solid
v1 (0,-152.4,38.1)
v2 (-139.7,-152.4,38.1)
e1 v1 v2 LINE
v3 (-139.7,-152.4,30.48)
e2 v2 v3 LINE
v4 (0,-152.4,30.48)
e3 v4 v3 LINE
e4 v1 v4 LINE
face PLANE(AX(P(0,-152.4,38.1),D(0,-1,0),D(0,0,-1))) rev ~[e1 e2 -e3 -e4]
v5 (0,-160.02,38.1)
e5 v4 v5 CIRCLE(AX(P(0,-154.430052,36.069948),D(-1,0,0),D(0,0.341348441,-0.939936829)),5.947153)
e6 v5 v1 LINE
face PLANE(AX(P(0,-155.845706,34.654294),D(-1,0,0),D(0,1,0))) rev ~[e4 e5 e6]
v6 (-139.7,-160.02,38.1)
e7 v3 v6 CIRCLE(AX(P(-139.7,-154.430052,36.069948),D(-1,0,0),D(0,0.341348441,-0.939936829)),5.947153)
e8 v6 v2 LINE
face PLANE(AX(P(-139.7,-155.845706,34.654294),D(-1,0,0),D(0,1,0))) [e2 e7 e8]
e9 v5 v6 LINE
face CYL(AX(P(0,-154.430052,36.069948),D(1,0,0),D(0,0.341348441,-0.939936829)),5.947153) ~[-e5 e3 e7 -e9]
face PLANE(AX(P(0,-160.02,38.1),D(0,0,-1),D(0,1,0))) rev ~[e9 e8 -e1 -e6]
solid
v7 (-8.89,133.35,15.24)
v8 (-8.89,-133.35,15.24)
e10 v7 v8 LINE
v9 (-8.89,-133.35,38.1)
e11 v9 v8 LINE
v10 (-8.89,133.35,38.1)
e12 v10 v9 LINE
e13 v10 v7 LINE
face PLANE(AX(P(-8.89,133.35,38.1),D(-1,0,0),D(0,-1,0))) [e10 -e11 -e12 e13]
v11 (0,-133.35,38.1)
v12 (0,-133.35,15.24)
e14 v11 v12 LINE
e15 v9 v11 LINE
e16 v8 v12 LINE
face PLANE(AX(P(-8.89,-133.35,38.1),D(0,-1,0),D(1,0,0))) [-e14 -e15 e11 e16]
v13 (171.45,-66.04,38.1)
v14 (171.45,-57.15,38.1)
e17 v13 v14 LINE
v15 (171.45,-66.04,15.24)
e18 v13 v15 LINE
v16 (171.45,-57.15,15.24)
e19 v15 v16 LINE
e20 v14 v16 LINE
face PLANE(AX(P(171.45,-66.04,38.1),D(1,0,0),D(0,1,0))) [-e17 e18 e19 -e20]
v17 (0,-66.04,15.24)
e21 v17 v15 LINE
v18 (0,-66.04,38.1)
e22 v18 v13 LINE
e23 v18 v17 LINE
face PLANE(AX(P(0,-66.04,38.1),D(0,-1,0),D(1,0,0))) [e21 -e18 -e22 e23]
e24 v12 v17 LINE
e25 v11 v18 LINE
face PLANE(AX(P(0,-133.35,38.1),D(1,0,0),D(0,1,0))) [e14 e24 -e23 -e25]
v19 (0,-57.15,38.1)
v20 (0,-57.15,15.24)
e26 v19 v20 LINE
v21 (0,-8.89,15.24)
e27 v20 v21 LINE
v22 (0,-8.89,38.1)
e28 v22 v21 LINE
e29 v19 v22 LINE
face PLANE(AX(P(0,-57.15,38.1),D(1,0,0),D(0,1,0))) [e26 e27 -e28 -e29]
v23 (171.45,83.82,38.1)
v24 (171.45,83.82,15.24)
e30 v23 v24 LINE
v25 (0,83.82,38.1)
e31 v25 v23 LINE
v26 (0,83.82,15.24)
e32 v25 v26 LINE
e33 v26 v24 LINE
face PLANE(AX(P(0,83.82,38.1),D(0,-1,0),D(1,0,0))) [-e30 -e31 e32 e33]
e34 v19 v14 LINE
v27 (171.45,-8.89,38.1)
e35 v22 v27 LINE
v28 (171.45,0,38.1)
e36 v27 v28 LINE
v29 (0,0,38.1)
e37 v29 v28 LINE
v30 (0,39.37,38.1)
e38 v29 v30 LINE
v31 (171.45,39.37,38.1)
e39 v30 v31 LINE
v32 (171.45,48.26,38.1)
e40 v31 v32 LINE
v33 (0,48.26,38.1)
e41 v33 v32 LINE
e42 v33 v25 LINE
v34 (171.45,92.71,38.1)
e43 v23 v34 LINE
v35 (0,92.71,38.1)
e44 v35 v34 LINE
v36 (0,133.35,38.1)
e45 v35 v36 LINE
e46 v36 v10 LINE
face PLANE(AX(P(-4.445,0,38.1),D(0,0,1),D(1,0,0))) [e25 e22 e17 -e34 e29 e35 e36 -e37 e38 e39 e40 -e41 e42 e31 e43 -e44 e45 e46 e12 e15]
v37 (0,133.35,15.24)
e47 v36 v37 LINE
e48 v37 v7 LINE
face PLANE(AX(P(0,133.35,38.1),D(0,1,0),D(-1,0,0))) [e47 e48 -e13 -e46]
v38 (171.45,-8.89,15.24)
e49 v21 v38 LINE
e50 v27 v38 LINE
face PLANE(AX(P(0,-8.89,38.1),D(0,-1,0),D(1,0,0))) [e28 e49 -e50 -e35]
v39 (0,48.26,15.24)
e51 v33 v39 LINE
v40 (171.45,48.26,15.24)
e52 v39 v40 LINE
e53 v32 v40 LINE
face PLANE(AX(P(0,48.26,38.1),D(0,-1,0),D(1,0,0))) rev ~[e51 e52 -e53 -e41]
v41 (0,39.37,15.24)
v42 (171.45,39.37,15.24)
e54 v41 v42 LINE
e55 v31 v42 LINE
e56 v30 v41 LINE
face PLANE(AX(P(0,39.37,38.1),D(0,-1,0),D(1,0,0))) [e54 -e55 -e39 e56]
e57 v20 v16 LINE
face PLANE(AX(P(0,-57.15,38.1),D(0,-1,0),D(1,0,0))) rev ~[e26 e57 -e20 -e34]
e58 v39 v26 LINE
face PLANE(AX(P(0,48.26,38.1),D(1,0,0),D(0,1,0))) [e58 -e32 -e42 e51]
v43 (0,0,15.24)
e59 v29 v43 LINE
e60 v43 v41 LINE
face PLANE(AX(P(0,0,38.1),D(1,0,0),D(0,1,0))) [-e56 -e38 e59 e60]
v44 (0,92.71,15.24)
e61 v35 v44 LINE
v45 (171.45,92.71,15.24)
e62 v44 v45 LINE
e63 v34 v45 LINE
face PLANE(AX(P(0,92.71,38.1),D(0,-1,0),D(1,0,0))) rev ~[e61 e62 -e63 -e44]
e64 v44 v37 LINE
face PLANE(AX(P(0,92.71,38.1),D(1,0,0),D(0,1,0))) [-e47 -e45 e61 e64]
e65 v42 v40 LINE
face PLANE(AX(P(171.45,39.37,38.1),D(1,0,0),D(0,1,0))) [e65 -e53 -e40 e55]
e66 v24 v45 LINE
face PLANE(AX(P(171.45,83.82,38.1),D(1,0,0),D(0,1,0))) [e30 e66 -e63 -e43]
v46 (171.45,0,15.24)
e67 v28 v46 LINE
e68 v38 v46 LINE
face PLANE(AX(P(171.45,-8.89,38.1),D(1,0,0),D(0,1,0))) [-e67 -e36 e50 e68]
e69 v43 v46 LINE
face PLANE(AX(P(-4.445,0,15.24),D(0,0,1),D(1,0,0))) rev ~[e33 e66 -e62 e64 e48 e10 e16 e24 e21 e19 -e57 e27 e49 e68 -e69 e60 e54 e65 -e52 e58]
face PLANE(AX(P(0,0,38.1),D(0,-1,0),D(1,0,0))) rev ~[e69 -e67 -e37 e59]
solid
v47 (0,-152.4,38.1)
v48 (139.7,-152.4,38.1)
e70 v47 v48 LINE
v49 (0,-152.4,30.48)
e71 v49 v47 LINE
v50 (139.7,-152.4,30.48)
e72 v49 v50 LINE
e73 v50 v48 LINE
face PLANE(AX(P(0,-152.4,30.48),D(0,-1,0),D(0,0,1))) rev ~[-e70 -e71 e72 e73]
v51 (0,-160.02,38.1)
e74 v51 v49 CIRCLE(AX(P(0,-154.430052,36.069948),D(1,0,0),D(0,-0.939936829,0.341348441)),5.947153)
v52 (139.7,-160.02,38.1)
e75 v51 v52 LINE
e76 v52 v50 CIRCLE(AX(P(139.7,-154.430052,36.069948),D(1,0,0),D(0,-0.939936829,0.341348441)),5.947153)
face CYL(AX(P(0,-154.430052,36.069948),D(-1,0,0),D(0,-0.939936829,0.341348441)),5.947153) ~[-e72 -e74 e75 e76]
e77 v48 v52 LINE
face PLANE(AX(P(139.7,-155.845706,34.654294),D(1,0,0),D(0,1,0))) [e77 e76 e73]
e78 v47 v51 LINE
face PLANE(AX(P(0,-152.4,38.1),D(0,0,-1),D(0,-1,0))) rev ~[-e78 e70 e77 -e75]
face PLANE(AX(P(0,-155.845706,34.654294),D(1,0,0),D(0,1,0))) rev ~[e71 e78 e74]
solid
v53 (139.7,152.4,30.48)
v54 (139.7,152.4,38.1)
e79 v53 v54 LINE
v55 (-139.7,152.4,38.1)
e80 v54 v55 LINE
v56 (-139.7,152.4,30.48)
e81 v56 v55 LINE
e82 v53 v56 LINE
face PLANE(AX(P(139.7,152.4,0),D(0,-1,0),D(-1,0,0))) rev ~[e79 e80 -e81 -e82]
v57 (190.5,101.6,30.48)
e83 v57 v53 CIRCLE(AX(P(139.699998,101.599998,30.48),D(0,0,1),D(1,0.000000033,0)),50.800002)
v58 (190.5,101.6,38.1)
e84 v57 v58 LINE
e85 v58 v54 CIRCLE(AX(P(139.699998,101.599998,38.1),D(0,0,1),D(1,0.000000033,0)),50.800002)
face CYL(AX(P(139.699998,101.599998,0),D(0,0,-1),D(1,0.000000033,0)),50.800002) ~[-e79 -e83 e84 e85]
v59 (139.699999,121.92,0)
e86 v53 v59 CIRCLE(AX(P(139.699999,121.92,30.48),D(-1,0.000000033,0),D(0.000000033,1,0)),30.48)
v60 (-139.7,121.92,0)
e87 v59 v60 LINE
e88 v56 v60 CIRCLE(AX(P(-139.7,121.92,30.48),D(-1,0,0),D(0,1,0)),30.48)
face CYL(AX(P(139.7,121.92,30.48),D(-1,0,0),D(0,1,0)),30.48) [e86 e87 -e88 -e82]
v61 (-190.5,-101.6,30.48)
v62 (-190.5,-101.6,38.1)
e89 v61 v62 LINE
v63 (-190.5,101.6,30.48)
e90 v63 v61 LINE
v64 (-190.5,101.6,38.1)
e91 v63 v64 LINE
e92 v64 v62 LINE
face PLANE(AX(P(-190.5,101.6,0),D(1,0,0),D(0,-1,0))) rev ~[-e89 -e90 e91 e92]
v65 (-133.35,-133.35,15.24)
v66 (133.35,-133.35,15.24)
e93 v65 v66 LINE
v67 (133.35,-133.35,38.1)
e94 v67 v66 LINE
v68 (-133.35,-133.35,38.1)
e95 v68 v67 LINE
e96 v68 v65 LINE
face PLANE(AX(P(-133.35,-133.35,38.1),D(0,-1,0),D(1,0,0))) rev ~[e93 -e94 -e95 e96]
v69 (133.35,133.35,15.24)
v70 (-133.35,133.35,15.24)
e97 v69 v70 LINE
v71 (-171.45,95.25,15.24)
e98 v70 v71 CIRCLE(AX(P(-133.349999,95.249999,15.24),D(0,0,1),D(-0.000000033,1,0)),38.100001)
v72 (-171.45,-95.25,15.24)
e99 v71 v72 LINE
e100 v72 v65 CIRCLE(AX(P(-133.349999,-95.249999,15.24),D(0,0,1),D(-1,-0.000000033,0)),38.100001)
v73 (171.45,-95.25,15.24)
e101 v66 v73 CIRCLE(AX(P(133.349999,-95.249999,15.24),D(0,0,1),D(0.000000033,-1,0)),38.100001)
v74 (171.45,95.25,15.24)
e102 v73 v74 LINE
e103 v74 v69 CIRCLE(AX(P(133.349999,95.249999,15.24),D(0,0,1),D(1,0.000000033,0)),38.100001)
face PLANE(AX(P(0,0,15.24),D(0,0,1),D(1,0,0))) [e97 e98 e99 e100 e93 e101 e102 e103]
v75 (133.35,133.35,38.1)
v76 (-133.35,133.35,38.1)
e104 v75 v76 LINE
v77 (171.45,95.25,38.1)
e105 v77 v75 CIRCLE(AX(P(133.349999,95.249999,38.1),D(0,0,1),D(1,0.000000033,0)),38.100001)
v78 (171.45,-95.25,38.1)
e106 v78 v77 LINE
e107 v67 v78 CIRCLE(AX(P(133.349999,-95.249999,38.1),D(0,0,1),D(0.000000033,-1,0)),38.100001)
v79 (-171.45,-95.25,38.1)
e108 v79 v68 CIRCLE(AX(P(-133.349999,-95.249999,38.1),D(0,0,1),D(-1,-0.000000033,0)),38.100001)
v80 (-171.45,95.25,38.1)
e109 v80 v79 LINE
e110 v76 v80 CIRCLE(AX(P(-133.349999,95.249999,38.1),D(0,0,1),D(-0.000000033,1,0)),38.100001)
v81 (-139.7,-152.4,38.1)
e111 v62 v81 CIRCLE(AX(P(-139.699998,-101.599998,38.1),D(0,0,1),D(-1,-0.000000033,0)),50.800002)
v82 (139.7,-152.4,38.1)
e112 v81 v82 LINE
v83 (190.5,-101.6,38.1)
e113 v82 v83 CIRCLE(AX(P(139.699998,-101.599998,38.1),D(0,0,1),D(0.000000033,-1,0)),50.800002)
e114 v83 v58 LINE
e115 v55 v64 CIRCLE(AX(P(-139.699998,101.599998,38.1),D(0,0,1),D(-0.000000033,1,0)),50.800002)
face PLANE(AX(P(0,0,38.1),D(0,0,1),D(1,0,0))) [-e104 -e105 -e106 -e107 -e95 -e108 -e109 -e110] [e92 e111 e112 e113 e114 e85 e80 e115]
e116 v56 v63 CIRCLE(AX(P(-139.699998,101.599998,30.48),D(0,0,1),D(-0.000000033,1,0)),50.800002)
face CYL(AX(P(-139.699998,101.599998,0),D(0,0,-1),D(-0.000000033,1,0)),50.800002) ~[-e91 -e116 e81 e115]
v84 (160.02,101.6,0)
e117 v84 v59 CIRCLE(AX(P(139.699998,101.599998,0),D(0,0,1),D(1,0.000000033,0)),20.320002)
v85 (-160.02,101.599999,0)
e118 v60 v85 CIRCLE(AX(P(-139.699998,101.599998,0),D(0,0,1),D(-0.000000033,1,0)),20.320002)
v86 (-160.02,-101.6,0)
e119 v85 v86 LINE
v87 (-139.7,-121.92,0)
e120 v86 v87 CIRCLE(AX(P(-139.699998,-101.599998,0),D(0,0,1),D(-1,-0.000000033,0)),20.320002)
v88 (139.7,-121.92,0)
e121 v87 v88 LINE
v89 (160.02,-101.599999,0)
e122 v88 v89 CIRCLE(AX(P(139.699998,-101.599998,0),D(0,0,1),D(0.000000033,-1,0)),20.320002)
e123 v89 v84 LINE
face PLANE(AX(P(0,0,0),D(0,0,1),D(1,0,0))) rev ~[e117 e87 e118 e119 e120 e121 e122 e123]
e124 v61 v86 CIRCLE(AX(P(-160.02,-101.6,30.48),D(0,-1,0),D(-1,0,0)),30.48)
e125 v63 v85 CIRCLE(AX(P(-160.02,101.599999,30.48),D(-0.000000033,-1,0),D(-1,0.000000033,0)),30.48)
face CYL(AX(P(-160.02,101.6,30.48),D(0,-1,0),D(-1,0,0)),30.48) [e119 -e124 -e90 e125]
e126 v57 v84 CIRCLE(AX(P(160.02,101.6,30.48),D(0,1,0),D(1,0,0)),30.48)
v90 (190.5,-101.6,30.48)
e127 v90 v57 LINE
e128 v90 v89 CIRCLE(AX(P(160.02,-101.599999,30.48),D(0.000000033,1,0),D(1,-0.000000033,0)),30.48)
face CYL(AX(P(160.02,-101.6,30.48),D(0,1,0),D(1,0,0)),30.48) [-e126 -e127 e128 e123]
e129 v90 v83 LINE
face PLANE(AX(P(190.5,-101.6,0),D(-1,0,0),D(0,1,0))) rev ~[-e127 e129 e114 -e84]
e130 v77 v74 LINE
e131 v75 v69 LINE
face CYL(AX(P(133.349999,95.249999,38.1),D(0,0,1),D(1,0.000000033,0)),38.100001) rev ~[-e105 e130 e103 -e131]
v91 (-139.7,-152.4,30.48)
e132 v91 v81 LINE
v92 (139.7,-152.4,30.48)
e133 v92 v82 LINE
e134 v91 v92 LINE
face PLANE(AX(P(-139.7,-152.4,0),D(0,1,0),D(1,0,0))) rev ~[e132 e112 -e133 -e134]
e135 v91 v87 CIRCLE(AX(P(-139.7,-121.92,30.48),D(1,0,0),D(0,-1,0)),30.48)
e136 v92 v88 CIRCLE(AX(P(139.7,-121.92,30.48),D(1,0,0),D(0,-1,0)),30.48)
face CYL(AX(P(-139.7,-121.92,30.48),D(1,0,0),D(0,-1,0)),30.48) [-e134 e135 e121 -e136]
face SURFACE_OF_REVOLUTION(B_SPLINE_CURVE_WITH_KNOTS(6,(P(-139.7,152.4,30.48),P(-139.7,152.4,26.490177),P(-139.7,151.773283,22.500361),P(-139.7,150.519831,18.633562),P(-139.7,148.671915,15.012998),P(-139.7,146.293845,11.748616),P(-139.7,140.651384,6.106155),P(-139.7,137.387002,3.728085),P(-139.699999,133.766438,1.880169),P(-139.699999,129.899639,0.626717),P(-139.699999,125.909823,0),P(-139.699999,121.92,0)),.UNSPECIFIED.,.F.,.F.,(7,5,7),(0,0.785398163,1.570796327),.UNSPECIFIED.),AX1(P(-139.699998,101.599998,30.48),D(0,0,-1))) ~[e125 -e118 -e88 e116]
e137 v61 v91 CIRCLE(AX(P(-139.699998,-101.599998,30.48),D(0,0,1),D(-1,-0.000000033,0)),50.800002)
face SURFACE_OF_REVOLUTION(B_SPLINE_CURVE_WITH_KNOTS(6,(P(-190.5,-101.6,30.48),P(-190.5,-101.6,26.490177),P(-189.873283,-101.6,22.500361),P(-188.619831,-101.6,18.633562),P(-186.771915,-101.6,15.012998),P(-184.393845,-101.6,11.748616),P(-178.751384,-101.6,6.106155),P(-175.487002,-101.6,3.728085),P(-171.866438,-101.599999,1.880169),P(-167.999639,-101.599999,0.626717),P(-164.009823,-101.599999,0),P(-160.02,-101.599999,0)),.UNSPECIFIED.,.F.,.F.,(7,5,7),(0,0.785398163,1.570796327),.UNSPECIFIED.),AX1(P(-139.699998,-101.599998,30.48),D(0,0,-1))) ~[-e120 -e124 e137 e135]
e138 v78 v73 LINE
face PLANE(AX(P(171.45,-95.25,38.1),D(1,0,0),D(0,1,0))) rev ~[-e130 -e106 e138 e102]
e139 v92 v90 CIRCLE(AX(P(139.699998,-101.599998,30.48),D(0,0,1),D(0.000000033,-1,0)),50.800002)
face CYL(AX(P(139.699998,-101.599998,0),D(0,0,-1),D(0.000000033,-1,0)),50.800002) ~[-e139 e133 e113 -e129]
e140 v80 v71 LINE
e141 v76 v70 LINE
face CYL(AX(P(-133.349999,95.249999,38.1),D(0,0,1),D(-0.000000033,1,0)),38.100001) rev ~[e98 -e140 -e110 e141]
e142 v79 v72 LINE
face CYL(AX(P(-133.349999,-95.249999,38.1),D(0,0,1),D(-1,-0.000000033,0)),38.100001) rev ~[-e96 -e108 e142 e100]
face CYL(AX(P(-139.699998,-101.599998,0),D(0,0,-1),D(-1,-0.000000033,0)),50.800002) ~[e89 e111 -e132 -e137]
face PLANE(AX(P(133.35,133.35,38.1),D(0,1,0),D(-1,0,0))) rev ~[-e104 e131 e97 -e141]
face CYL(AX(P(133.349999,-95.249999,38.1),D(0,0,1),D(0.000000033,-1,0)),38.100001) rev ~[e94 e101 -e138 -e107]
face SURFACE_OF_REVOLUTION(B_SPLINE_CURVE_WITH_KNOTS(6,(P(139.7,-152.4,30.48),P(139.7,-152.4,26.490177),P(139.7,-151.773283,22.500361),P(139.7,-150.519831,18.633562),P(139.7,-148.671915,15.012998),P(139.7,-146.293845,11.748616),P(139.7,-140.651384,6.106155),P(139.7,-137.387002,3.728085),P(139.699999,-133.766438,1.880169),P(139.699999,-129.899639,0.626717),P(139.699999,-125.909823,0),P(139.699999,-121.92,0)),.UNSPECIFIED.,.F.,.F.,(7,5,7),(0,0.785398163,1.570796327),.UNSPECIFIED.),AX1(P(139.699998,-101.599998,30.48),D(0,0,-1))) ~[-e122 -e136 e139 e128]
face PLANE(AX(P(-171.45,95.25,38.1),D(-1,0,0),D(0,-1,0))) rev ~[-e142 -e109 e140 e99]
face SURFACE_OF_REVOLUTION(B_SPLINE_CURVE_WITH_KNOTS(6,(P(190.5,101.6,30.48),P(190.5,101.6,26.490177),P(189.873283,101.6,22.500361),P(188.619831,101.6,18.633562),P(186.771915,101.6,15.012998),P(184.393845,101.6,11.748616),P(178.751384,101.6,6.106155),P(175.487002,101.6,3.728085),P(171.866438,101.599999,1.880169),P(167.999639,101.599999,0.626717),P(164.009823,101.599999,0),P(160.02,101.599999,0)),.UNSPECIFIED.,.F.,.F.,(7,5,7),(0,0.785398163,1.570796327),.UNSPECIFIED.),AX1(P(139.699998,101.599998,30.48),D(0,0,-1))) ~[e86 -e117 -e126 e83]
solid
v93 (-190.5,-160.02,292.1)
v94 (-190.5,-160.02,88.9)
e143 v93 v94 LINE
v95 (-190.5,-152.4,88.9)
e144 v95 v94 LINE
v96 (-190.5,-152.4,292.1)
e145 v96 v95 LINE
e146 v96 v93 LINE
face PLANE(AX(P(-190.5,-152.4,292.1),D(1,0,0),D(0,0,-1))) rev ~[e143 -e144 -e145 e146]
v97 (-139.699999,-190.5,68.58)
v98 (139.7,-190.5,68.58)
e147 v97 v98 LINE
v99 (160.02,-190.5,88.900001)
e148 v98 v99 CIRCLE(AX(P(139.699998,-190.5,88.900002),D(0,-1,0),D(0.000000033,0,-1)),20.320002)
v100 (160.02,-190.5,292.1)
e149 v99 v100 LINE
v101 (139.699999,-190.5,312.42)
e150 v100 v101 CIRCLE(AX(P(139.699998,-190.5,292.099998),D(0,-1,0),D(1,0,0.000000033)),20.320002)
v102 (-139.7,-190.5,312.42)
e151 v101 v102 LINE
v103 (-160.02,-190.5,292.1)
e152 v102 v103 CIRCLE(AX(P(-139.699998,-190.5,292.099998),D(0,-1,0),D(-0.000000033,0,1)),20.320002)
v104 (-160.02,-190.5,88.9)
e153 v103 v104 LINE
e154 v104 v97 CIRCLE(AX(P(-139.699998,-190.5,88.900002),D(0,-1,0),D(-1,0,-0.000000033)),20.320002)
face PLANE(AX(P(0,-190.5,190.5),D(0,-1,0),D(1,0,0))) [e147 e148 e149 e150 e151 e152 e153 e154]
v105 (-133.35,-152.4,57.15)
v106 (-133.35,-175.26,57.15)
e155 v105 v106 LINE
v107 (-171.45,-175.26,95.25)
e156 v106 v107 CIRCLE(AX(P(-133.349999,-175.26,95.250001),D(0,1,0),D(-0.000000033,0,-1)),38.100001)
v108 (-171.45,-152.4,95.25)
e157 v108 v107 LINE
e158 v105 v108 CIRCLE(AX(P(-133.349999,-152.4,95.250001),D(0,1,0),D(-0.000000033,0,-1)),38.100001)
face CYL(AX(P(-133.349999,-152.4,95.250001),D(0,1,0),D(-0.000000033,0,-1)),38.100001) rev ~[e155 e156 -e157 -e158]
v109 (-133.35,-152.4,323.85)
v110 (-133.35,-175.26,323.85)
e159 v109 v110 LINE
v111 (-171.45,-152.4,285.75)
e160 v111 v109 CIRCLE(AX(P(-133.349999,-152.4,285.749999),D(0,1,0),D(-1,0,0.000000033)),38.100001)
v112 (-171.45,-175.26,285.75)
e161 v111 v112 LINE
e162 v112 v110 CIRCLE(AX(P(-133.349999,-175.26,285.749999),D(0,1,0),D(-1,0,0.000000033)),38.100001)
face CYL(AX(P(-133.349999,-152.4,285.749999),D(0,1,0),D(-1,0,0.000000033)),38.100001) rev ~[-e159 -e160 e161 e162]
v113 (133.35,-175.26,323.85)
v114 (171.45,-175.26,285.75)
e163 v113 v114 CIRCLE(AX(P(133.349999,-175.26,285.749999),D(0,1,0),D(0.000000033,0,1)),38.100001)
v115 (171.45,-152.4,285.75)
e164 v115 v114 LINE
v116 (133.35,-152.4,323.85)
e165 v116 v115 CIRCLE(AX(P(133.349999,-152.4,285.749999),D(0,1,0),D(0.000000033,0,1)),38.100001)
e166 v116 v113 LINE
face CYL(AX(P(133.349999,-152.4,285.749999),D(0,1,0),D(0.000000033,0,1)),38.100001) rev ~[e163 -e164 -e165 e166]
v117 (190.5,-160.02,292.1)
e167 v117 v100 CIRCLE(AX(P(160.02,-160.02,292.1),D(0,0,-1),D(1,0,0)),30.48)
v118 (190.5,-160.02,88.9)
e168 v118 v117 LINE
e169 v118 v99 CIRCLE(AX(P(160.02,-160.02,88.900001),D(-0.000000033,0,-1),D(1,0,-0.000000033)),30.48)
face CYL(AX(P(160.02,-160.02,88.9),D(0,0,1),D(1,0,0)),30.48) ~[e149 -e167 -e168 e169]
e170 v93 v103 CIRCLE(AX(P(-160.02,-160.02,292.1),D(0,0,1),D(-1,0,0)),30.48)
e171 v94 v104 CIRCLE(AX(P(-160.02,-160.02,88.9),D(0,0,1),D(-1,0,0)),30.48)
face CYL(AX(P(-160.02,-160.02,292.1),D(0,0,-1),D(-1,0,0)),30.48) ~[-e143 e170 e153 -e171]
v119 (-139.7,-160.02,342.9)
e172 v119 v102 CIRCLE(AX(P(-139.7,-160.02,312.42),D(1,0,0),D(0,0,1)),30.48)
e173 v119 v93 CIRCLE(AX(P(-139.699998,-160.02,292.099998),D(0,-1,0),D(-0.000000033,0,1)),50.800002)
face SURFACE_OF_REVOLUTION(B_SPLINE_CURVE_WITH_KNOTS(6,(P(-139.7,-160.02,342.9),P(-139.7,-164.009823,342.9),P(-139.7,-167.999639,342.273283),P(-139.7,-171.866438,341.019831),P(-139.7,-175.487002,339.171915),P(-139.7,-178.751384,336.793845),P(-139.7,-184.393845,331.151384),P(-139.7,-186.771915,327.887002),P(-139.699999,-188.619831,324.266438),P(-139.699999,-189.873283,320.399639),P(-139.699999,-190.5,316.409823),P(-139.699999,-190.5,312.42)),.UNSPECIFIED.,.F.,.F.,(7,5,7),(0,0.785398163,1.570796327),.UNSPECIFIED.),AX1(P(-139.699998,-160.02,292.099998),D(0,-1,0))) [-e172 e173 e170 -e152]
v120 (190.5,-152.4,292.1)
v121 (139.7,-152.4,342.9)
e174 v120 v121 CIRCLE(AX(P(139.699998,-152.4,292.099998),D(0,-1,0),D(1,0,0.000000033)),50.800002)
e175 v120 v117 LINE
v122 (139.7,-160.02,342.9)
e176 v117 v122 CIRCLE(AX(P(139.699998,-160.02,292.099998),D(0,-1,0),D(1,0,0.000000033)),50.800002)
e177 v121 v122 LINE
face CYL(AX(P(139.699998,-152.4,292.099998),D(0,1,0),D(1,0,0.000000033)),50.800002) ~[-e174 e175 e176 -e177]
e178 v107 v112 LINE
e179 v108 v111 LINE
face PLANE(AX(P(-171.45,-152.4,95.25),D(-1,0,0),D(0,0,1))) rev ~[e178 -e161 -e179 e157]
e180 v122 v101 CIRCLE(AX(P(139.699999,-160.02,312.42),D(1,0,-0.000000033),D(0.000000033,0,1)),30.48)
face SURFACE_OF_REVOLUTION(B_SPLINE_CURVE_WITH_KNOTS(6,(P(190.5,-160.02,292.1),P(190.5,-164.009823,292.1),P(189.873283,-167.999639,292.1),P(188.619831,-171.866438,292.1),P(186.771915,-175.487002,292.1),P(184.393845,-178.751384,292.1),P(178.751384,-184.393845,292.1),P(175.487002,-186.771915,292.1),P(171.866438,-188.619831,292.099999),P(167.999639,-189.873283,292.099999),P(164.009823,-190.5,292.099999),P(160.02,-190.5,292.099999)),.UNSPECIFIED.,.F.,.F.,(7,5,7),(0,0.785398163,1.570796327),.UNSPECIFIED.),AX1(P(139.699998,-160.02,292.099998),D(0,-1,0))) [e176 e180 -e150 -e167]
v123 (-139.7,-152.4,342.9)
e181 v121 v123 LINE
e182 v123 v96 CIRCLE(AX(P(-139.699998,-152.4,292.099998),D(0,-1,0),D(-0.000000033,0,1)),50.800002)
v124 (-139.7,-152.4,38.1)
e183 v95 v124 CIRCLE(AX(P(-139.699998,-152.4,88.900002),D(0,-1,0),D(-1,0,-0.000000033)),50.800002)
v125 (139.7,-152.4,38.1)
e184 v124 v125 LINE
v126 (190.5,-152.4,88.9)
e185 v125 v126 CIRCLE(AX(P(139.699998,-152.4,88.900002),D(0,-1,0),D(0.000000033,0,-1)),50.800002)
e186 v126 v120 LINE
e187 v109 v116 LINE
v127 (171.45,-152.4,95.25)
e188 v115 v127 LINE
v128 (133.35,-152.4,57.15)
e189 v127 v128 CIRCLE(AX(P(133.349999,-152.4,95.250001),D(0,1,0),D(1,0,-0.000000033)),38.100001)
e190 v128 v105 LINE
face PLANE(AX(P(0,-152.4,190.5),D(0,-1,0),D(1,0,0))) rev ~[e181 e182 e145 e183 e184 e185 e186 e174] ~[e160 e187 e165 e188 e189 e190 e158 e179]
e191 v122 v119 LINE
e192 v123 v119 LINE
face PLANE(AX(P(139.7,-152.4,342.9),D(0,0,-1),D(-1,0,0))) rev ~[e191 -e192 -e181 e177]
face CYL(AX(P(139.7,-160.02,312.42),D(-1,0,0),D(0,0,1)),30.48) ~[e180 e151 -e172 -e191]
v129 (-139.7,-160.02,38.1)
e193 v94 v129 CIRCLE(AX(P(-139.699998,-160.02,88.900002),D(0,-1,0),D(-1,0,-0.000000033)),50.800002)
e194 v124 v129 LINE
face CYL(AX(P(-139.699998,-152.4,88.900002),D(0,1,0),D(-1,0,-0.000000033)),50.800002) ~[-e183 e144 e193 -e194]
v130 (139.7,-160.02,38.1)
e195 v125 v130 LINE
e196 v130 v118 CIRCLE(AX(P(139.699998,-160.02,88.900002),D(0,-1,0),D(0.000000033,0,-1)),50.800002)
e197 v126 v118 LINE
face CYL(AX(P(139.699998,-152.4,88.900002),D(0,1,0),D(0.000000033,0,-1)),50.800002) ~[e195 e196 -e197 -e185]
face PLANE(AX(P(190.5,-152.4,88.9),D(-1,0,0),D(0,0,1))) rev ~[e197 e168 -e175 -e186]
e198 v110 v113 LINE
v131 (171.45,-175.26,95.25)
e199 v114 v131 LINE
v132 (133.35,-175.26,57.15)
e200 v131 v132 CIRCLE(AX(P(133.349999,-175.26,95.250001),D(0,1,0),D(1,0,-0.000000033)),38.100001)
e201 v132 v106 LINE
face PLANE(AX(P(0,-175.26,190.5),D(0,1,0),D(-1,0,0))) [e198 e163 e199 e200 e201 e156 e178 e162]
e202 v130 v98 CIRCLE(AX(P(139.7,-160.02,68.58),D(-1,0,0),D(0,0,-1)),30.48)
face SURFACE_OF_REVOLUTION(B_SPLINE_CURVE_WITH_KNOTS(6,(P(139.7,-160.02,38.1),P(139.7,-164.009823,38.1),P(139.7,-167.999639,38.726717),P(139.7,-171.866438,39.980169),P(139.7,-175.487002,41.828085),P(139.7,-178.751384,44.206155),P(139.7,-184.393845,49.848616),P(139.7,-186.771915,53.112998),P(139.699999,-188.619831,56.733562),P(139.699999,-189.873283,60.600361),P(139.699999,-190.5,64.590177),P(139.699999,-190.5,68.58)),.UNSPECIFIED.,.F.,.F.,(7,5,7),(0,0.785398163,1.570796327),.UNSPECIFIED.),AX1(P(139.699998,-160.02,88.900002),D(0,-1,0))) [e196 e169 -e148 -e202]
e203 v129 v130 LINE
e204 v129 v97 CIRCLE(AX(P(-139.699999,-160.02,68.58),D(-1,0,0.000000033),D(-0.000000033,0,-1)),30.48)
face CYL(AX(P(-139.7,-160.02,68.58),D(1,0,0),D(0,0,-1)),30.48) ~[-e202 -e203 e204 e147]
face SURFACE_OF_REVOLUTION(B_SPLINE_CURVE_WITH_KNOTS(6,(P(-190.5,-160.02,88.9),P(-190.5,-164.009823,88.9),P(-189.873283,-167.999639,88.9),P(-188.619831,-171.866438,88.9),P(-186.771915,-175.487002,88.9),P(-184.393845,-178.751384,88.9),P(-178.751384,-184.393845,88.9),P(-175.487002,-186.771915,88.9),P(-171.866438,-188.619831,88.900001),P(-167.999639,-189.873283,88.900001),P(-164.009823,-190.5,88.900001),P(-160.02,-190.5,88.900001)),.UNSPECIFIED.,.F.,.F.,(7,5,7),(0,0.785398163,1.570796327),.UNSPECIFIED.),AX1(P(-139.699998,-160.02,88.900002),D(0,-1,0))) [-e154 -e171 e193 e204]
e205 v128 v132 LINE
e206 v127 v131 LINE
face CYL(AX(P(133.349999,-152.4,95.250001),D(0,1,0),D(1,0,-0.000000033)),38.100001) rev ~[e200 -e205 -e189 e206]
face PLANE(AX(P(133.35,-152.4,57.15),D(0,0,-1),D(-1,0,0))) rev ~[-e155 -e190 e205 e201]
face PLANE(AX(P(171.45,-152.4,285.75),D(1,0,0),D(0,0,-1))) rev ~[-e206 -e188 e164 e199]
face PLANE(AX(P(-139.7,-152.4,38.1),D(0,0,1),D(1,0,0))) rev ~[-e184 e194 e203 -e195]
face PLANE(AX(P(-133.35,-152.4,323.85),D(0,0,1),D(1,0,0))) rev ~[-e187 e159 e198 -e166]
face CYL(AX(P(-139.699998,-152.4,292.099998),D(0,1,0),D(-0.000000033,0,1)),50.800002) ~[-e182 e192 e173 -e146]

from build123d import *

# Parameters (mm, degrees)
F1_DEPTH  = 38.1
F2_R      = 30.48
F4_DEPTH  = 38.1
F5_R      = 30.48
F7_DEPTH  = 139.7
F8_DEPTH  = 139.7
F10_DEPTH = 22.86
F13_DEPTH = 22.86
F14_W     = 171.45
F14_H     = 8.89
F15_DEPTH = 22.86


with BuildPart() as f1:
    # F0 (on Top) → F1 (new body)
    with BuildSketch(Plane.XY):
        with BuildLine():
            Line((-139.7, -152.4), (139.7, -152.4))
            ThreePointArc((139.7, -152.4), (175.621024, -137.521024), (190.5, -101.6))
            Line((190.5, -101.6), (190.5, 101.6))
            ThreePointArc((190.5, 101.6), (175.621024, 137.521024), (139.7, 152.4))
            Line((139.7, 152.4), (-139.7, 152.4))
            ThreePointArc((-139.7, 152.4), (-175.621024, 137.521024), (-190.5, 101.6))
            Line((-190.5, 101.6), (-190.5, -101.6))
            ThreePointArc((-190.5, -101.6), (-175.621024, -137.521024), (-139.7, -152.4))
        make_face()
    extrude(amount=F1_DEPTH)

    # F2
    f2_edges = [f1.edges().sort_by_distance(p)[0] for p in [
        (0, -152.4, 0),
    ]]
    fillet(f2_edges, radius=F2_R)

    # F12 (on face) → F13 (cut)
    with BuildSketch(Plane.XY.offset(38.1)):
        with BuildLine():
            ThreePointArc((-133.35, 133.35), (-160.290768, 122.190768), (-171.45, 95.25))
            Line((-171.45, 95.25), (-171.45, 0))
            Line((-171.45, 0), (-171.45, -95.25))
            ThreePointArc((-171.45, -95.25), (-160.290768, -122.190768), (-133.35, -133.35))
            Line((-133.35, -133.35), (0, -133.35))
            Line((0, -133.35), (133.35, -133.35))
            ThreePointArc((133.35, -133.35), (160.290768, -122.190768), (171.45, -95.25))
            Line((171.45, -95.25), (171.45, 0))
            Line((171.45, 0), (171.45, 95.25))
            ThreePointArc((171.45, 95.25), (160.290768, 122.190768), (133.35, 133.35))
            Line((133.35, 133.35), (0, 133.35))
            Line((0, 133.35), (-133.35, 133.35))
        make_face()
    extrude(amount=-F13_DEPTH, mode=Mode.SUBTRACT)


with BuildPart() as f4:
    # F3 (on face) → F4 (new body)
    with BuildSketch(Plane.XZ.offset(152.4)):
        with BuildLine():
            Line((139.7, 342.9), (-139.7, 342.9))
            ThreePointArc((-139.7, 342.9), (-175.621024, 328.021024), (-190.5, 292.1))
            Line((-190.5, 292.1), (-190.5, 88.9))
            ThreePointArc((-190.5, 88.9), (-175.621024, 52.978976), (-139.7, 38.1))
            Line((-139.7, 38.1), (139.7, 38.1))
            ThreePointArc((139.7, 38.1), (175.621024, 52.978976), (190.5, 88.9))
            Line((190.5, 88.9), (190.5, 292.1))
            ThreePointArc((190.5, 292.1), (175.621024, 328.021024), (139.7, 342.9))
        make_face()
    extrude(amount=F4_DEPTH)

    # F5
    f5_edges = [f4.edges().sort_by_distance(p)[0] for p in [
        (-190.5, -190.5, 190.5),
    ]]
    fillet(f5_edges, radius=F5_R)

    # F9 (on face) → F10 (cut)
    with BuildSketch(Plane(origin=(0, -152.4, 0), x_dir=(-1, 0, 0), z_dir=(0, 1, 0))):
        with BuildLine():
            Line((-133.35, 57.15), (133.35, 57.15))
            ThreePointArc((133.35, 57.15), (160.290768, 68.309232), (171.45, 95.25))
            Line((171.45, 95.25), (171.45, 285.75))
            ThreePointArc((171.45, 285.75), (160.290768, 312.690768), (133.35, 323.85))
            Line((133.35, 323.85), (-133.35, 323.85))
            ThreePointArc((-133.35, 323.85), (-160.290768, 312.690768), (-171.45, 285.75))
            Line((-171.45, 285.75), (-171.45, 95.25))
            ThreePointArc((-171.45, 95.25), (-160.290768, 68.309232), (-133.35, 57.15))
        make_face()
    extrude(amount=-F10_DEPTH, mode=Mode.SUBTRACT)


with BuildPart() as f7:
    # F6 (on Right) → F7 (new body)
    with BuildSketch(Plane.YZ):
        with BuildLine():
            Line((-152.4, 38.1), (-160.02, 38.1))
            ThreePointArc((-160.02, 38.1), (-158.635324, 31.864676), (-152.4, 30.48))
            Line((-152.4, 30.48), (-152.4, 38.1))
        make_face()
    extrude(amount=F7_DEPTH)


with BuildPart() as f8:
    # F7_face (on face) → F8 (new body)
    with BuildSketch(Plane(origin=(0, -156.023531, 34.476469), x_dir=(0, 1, 0), z_dir=(-1, 0, 0))):
        with BuildLine():
            Line((3.623531, -3.623531), (3.623531, 3.996469))
            ThreePointArc((3.623531, 3.996469), (-2.611793, 2.611793), (-3.996469, -3.623531))
            Line((-3.996469, -3.623531), (3.623531, -3.623531))
        make_face()
    extrude(amount=F8_DEPTH)


with BuildPart() as f15:
    # F14 (on face) → F15 (new body)
    with BuildSketch(Plane.XY.offset(38.1)):
        Polygon((0, -8.89), (0, 0), (0, 39.37), (0, 48.26), (0, 83.82), (0, 92.71), (0, 133.35), (-8.89, 133.35), (-8.89, -133.35), (0, -133.35), (0, -66.04), (0, -57.15), align=None)
        with Locations((85.725, -4.445)):
            Rectangle(F14_W, F14_H)
        with Locations((85.725, 43.815)):
            Rectangle(F14_W, F14_H)
        with Locations((85.725, -61.595)):
            Rectangle(F14_W, F14_H)
        with Locations((85.725, 88.265)):
            Rectangle(F14_W, F14_H)
    extrude(amount=-F15_DEPTH)


solid = Compound([f1.part, f4.part, f7.part, f8.part, f15.part])
